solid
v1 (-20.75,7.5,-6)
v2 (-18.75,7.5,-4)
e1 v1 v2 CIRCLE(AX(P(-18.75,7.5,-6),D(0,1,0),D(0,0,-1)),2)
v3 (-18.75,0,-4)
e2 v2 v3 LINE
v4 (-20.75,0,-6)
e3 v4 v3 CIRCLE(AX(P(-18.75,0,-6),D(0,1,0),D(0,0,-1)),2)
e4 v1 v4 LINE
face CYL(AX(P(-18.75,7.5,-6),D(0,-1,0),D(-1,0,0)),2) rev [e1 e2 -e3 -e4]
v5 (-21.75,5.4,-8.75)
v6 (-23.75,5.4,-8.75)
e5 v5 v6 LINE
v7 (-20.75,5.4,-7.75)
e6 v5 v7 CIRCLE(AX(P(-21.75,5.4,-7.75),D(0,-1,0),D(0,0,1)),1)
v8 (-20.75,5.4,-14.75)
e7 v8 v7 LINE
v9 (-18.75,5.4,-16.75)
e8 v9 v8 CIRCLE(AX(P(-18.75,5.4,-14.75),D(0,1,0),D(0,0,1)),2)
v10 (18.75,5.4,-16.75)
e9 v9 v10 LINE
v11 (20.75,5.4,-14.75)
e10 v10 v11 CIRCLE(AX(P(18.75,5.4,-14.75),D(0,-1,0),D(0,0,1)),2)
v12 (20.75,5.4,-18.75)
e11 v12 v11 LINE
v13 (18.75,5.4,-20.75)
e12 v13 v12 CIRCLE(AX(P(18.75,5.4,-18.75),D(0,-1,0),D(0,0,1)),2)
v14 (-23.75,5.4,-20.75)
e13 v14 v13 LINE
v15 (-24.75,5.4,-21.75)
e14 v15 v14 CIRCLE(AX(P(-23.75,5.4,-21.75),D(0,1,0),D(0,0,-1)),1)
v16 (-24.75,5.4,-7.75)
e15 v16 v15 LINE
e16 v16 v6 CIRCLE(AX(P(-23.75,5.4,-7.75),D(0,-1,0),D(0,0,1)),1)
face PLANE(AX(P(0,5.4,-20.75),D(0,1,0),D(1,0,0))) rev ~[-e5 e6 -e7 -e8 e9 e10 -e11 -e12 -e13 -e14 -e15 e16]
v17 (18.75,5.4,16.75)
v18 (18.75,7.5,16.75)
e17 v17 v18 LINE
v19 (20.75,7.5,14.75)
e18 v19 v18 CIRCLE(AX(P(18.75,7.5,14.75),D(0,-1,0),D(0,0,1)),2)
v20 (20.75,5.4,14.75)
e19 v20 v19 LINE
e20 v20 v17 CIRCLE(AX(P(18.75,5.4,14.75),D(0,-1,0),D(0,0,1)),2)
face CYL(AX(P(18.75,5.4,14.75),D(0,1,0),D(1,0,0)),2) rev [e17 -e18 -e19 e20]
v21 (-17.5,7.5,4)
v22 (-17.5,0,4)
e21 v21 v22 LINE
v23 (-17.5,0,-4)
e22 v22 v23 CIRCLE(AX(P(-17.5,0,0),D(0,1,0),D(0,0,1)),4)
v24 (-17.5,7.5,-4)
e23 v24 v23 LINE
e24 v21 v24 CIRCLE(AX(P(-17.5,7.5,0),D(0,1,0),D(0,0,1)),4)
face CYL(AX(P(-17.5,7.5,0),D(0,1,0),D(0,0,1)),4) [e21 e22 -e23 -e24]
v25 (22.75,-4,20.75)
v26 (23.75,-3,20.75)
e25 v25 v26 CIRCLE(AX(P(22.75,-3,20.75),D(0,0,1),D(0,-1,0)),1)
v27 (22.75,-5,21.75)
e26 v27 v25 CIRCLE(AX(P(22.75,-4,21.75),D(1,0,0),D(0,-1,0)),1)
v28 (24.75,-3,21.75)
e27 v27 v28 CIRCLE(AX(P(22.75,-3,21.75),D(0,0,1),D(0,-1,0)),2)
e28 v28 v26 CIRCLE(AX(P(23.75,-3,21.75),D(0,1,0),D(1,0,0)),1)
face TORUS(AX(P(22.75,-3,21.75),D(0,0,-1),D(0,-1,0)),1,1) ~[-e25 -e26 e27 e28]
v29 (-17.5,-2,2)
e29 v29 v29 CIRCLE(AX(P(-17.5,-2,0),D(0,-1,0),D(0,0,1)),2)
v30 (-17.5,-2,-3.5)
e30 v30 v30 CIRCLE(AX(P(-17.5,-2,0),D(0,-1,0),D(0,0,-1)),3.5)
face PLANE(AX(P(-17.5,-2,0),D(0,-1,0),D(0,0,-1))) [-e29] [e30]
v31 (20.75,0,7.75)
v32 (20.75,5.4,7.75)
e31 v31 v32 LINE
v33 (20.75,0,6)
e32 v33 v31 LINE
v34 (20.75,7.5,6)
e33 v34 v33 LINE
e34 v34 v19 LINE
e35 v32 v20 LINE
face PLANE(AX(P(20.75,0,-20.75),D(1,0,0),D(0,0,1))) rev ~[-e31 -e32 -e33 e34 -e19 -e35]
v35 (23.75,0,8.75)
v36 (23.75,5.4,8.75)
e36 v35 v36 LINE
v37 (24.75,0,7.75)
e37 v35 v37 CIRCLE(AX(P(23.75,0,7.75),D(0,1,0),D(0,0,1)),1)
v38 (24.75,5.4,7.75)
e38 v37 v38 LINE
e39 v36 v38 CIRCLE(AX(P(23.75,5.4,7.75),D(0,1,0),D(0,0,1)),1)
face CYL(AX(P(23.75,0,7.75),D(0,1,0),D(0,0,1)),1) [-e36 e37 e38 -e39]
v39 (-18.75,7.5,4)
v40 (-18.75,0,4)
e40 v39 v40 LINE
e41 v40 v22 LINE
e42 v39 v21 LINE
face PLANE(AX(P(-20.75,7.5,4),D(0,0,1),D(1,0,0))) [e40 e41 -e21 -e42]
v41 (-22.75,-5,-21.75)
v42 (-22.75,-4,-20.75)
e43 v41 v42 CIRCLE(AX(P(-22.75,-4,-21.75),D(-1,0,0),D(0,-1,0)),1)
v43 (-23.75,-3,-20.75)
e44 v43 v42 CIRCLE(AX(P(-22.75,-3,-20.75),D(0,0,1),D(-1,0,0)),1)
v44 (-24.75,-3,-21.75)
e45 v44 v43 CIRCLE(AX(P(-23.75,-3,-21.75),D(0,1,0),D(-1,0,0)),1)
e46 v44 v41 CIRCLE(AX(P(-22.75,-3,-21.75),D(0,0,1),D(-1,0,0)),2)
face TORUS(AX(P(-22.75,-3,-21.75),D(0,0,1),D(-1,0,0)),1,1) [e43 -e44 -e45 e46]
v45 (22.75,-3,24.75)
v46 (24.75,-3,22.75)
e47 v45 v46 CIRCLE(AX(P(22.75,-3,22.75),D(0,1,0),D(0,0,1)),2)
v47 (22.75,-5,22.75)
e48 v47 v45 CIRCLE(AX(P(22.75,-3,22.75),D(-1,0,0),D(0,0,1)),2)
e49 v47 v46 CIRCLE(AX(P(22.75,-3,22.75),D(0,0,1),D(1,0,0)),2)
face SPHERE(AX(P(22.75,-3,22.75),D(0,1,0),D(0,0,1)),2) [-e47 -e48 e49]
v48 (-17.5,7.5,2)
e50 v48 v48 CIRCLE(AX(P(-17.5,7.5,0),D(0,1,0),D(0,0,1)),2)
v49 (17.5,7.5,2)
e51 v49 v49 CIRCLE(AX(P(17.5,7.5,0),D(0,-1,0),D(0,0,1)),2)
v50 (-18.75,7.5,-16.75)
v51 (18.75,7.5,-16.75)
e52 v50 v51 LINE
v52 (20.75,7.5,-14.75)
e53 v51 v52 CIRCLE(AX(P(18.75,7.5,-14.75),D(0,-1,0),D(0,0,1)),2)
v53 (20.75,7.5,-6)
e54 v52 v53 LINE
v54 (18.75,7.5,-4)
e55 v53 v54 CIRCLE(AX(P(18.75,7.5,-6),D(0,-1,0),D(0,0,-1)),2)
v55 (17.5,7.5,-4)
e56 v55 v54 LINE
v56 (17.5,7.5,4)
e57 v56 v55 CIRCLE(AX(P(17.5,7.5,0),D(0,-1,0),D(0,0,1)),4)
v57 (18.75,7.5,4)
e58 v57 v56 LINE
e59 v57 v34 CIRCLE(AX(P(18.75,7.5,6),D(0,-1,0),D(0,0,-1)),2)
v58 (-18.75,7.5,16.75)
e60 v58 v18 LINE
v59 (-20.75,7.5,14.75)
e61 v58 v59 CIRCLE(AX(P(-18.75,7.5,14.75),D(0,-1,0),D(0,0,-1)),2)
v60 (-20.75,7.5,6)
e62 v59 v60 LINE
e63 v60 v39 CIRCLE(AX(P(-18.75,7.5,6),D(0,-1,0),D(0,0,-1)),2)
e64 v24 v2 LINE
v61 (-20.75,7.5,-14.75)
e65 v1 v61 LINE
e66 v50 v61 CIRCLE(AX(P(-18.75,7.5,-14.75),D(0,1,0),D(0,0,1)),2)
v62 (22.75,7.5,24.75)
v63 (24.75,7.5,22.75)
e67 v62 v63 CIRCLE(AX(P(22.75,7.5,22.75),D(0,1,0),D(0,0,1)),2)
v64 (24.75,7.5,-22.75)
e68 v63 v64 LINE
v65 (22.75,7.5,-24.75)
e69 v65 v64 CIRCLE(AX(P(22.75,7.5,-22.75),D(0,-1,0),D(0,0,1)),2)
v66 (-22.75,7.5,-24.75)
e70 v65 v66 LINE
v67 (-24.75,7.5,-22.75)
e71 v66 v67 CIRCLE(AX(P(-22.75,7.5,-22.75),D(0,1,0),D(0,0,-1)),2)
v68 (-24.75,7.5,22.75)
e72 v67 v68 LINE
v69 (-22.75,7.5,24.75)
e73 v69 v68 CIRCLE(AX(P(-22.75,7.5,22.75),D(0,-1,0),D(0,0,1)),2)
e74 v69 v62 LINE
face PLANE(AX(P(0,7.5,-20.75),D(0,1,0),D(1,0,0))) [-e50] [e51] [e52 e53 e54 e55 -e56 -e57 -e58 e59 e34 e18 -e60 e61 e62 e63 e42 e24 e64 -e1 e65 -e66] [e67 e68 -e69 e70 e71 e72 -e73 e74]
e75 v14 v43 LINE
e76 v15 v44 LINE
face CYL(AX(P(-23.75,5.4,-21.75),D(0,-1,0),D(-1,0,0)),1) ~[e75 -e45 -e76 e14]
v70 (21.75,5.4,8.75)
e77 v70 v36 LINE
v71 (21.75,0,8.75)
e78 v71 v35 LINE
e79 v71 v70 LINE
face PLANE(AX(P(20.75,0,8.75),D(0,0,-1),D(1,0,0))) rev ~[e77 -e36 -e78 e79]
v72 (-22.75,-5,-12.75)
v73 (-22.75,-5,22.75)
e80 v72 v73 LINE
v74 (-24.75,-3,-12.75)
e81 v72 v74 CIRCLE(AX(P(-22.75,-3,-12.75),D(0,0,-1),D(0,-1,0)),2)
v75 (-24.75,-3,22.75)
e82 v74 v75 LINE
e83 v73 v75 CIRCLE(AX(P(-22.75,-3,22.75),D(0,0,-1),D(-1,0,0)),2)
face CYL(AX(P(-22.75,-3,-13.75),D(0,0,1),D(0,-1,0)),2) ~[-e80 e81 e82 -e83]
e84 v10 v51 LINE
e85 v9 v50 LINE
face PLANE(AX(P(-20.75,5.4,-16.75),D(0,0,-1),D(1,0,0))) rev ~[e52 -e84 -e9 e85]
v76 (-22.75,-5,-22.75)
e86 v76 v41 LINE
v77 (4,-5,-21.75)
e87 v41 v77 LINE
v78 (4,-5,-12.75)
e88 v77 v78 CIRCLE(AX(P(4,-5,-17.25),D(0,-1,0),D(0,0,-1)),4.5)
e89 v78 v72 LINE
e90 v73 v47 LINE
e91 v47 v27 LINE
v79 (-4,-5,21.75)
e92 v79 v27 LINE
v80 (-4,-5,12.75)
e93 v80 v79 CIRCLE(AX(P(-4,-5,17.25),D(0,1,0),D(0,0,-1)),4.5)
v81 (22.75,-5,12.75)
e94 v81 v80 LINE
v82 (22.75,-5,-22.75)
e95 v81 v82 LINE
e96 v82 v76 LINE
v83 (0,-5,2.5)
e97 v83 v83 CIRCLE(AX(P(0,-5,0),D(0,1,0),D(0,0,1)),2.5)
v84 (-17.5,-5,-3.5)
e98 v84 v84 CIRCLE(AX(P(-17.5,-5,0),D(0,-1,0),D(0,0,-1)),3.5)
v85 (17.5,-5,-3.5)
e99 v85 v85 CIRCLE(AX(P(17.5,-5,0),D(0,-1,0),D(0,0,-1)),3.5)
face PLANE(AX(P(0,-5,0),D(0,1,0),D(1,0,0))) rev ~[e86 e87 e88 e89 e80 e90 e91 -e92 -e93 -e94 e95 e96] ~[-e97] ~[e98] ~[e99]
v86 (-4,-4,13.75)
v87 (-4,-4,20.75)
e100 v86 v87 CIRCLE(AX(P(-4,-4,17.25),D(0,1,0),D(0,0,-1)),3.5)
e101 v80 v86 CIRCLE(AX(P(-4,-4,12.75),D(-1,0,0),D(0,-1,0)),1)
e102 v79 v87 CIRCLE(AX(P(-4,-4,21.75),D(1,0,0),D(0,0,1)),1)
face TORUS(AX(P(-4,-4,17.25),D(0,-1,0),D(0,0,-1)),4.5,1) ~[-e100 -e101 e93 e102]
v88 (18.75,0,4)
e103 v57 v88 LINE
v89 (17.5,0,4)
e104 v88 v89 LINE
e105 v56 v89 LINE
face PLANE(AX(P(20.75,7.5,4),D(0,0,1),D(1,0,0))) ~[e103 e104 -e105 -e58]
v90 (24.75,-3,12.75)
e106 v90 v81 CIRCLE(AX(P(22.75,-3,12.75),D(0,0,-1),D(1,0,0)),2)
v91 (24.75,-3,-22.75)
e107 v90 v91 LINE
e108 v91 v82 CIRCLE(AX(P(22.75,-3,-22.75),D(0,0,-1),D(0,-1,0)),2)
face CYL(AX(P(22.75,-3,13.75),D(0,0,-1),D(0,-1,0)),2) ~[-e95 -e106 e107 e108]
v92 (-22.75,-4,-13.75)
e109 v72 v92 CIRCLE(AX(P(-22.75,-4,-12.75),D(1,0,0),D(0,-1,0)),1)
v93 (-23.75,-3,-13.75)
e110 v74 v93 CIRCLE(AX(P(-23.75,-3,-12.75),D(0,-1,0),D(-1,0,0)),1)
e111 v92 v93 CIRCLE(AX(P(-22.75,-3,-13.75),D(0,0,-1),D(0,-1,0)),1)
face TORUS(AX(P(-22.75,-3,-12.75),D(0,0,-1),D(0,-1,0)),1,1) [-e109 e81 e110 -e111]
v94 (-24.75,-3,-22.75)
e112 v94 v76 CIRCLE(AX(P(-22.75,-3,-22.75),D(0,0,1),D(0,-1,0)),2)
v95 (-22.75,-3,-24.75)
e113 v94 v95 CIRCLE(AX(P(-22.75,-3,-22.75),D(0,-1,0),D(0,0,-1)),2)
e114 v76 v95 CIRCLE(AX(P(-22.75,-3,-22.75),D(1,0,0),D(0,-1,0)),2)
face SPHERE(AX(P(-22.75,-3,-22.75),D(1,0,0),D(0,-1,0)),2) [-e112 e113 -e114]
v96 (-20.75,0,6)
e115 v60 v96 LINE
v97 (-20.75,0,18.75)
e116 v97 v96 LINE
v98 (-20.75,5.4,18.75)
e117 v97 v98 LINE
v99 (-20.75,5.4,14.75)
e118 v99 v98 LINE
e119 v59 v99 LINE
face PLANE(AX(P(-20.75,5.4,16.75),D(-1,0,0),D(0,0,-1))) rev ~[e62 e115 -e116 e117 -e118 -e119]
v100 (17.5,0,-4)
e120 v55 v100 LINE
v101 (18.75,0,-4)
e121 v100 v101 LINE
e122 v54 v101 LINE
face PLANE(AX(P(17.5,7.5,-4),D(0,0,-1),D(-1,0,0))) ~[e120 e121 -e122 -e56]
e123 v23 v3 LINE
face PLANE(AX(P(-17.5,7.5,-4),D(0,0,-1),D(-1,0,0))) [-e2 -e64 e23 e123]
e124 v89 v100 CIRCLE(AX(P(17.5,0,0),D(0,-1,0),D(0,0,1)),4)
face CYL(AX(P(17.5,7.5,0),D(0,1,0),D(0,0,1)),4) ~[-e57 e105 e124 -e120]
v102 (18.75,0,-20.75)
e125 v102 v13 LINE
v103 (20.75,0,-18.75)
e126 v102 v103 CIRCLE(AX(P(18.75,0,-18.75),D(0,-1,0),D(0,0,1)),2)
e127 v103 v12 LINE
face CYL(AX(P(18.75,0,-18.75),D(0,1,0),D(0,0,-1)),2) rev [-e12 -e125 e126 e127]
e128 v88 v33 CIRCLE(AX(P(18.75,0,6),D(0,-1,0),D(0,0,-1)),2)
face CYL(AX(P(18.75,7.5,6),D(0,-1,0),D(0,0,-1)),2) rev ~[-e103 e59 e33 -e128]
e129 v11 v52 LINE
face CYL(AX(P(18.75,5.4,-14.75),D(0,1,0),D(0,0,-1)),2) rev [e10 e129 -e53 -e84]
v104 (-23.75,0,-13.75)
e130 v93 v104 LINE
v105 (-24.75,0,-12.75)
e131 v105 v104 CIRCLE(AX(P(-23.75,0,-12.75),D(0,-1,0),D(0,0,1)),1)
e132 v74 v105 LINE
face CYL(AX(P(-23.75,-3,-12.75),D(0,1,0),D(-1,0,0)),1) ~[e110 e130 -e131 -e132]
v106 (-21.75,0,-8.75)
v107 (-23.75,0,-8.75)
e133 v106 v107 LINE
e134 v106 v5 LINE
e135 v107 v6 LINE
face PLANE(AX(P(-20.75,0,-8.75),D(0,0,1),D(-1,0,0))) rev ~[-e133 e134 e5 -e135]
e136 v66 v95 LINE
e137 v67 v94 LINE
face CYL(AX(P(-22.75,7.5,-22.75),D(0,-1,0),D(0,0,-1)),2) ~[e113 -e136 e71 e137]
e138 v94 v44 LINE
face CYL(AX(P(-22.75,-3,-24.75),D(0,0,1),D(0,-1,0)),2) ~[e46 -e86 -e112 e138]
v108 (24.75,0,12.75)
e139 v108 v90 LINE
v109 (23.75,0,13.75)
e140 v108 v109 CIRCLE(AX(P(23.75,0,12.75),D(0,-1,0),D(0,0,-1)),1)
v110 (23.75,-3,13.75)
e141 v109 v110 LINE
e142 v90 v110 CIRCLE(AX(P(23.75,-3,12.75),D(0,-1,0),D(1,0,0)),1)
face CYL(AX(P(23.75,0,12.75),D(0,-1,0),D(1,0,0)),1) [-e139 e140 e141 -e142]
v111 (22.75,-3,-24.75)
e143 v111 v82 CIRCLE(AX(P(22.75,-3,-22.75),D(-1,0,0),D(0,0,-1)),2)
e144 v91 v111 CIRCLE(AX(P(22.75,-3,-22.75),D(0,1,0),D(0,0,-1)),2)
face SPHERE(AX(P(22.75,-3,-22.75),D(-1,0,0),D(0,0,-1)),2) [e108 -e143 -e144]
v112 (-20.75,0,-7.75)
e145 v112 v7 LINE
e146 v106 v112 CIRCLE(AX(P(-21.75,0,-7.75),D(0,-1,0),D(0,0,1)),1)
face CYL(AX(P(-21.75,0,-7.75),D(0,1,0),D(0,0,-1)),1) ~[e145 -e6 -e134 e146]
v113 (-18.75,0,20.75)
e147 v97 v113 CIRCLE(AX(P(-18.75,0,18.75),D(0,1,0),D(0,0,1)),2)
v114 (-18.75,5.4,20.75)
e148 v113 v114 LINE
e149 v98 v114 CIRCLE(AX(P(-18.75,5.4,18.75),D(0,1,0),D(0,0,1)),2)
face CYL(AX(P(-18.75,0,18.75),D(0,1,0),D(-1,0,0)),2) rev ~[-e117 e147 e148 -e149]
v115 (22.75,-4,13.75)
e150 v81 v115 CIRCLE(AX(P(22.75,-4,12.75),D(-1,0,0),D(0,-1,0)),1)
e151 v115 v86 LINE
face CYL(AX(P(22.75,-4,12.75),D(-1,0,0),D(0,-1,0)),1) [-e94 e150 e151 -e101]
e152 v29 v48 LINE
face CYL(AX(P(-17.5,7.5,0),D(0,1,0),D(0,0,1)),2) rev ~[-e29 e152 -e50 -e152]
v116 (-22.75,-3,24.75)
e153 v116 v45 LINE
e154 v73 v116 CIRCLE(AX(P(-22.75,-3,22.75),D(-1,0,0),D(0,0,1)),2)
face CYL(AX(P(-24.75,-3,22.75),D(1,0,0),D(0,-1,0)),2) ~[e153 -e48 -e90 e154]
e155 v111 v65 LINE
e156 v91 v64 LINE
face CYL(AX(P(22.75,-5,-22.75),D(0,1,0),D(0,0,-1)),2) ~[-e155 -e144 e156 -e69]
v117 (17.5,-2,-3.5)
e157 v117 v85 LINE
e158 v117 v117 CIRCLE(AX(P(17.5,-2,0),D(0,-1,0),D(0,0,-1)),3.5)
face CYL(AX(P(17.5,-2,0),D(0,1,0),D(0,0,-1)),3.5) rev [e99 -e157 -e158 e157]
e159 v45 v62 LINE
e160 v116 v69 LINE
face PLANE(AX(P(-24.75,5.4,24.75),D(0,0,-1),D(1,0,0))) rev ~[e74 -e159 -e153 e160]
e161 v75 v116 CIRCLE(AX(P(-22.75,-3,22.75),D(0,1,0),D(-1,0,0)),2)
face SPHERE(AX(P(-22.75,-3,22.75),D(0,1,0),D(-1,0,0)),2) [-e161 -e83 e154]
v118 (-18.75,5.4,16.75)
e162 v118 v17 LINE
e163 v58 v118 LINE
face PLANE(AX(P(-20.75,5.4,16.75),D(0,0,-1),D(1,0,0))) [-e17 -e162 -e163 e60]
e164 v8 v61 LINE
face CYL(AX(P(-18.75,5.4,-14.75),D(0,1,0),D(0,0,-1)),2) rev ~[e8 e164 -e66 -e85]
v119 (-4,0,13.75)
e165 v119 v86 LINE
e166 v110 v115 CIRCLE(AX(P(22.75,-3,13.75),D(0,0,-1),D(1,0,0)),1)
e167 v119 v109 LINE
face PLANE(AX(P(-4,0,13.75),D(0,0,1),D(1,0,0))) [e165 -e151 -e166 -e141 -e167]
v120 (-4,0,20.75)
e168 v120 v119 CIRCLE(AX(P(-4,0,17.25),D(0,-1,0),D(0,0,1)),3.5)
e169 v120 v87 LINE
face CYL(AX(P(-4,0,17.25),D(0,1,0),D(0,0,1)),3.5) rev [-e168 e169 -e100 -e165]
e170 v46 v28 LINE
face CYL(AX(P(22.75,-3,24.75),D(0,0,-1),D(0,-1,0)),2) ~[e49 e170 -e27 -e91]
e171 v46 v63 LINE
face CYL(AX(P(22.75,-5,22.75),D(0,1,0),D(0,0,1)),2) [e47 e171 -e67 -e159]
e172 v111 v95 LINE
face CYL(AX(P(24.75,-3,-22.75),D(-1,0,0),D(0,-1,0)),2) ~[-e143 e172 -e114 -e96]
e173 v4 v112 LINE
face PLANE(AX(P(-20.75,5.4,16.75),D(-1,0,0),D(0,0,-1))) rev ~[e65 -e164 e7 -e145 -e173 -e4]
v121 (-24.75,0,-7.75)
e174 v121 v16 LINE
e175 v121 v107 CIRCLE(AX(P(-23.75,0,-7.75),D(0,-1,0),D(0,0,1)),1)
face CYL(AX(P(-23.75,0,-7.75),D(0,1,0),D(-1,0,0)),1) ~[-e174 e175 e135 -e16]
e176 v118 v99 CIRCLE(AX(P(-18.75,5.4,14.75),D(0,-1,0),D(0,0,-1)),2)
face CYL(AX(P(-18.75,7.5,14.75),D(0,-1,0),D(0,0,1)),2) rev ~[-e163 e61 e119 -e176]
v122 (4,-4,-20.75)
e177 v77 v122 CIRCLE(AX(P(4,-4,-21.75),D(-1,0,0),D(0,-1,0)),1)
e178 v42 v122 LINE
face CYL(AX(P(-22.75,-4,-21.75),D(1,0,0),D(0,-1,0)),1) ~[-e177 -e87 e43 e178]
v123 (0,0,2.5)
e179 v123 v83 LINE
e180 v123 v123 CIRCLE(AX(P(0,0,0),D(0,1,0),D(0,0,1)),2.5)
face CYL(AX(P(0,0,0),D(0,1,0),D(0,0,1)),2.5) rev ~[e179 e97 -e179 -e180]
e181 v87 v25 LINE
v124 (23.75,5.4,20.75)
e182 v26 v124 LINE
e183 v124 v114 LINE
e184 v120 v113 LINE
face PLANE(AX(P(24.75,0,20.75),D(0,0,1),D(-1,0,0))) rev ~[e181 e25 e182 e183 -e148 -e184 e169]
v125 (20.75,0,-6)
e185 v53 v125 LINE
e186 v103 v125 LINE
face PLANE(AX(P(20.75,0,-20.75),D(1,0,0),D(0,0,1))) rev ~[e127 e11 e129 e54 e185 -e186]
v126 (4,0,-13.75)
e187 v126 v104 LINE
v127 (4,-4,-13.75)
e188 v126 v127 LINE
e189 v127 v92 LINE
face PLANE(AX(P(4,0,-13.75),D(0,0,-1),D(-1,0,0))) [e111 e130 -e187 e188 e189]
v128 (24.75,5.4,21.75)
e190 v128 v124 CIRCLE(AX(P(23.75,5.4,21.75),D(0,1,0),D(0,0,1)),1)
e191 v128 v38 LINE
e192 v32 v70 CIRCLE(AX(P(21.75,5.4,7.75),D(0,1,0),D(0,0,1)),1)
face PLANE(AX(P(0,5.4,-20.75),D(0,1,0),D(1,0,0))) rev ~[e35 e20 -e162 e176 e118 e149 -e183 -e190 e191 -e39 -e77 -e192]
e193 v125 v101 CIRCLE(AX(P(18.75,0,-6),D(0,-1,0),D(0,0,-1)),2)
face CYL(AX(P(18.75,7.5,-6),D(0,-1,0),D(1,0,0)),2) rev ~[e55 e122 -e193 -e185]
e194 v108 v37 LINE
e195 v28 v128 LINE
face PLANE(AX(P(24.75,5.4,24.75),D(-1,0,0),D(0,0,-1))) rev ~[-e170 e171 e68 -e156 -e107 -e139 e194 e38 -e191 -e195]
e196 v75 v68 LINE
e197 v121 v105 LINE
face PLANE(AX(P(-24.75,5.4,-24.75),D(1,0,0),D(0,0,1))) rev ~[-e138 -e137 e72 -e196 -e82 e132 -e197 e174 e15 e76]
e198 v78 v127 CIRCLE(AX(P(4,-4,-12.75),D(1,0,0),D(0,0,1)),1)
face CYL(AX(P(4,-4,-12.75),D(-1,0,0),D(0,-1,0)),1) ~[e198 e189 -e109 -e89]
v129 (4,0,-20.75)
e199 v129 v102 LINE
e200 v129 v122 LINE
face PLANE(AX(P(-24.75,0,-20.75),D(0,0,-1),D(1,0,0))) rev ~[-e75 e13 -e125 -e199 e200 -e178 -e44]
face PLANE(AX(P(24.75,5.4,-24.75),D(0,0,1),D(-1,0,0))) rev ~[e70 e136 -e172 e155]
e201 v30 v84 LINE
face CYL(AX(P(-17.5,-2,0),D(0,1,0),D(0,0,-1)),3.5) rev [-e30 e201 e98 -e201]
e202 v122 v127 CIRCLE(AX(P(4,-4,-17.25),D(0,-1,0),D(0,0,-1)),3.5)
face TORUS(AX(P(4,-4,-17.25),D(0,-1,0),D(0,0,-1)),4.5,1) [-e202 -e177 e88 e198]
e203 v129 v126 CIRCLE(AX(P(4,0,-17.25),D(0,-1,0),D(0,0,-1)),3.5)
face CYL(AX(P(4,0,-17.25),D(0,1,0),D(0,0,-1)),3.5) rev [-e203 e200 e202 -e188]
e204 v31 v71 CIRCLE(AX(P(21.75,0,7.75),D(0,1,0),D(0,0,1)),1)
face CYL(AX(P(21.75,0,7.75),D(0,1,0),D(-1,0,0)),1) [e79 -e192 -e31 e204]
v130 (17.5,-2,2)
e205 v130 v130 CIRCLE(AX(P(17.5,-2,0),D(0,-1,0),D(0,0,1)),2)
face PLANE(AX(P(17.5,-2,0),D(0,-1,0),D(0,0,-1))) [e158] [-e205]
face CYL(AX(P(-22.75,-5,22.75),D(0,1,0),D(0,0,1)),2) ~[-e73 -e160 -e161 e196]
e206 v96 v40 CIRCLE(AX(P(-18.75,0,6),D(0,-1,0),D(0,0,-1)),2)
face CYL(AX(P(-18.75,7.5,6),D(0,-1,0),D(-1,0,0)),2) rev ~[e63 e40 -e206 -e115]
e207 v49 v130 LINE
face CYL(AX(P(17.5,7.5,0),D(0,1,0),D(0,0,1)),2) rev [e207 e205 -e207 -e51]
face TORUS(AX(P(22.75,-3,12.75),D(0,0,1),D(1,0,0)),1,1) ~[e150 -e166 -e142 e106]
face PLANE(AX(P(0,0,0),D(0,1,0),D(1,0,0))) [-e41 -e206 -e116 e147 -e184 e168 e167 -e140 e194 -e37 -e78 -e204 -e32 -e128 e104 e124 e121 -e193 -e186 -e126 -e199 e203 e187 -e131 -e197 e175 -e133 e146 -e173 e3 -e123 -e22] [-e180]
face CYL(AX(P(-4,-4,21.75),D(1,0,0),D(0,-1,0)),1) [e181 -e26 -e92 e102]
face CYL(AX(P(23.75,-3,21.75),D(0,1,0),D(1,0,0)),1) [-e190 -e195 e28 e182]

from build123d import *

# Parameters (mm, degrees)
CROQUIS1_R                   = 2.5
SALIENTE_EXTRUIR1_DEPTH      = 5
SALIENTE_EXTRUIR2_DEPTH      = 5.5
SALIENTE_EXTRUIR5_DEPTH      = 2
SALIENTE_EXTRUIR5_DEPTH_BACK = 0.1
CROQUIS2_W                   = 41.5
CROQUIS2_H                   = 8
CROQUIS2_H_2                 = 4
CROQUIS2_W_2                 = 4
CROQUIS3_R                   = 2
SALIENTE_EXTRUIR6_DEPTH      = 7.5
CORTAR_EXTRUIR1_REACH        = 39.167
CROQUIS3_3_R                 = 2
CORTAR_EXTRUIR2_START        = -3
CROQUIS4_R                   = 3.5
CROQUIS4_R_2                 = 2
CORTAR_EXTRUIR2_DEPTH        = 3
REDONDEO1_R                  = 2
REDONDEO4_R                  = 2
REDONDEO3_R                  = 1


with BuildPart() as part:
    # Croquis1 → Saliente-Extruir1 (new body)
    with BuildSketch(Plane(origin=(0, 0, 0), x_dir=(1, 0, 0), z_dir=(0, 1, 0))):
        with BuildLine():
            Line((-24.75, -24.75), (24.75, -24.75))
            Line((24.75, -24.75), (24.75, -20.75))
            Line((24.75, -20.75), (-4, -20.75))
            ThreePointArc((-4, -20.75), (-7.5, -17.25), (-4, -13.75))
            Line((-4, -13.75), (24.75, -13.75))
            Line((24.75, -13.75), (24.75, 24.75))
            Line((24.75, 24.75), (-24.75, 24.75))
            Line((-24.75, 24.75), (-24.75, 20.75))
            Line((-24.75, 20.75), (4, 20.75))
            ThreePointArc((4, 20.75), (7.5, 17.25), (4, 13.75))
            Line((4, 13.75), (-24.75, 13.75))
            Line((-24.75, 13.75), (-24.75, -24.75))
        make_face()
        with Locations(Location((0, 0, 0), (0, 0, 270))):
            Circle(CROQUIS1_R, mode=Mode.SUBTRACT)
    extrude(amount=-SALIENTE_EXTRUIR1_DEPTH)

    # Croquis1<3> → Saliente-Extruir2 (add)
    with BuildSketch(Plane(origin=(0, 0, 0), x_dir=(1, 0, 0), z_dir=(0, 1, 0))):
        Polygon((-24.75, 8.75), (-24.75, -24.75), (24.75, -24.75), (24.75, -20.75), (-4, -20.75), (-20.75, -20.75), (-20.75, 8.75), align=None)
        Polygon((-24.75, 24.75), (-24.75, 20.75), (4, 20.75), (20.75, 20.75), (20.75, -8.75), (24.75, -8.75), (24.75, 24.75), align=None)
    extrude(amount=SALIENTE_EXTRUIR2_DEPTH)

    # Croquis2 → Saliente-Extruir5 (add, two sides: drawn at the far end of the back side and taken through both)
    with BuildSketch(Plane(origin=(0, 5.5, 0), x_dir=(1, 0, 0), z_dir=(0, 1, 0)).offset(-SALIENTE_EXTRUIR5_DEPTH_BACK)):
        with Locations((0, 20.75)):
            Rectangle(CROQUIS2_W, CROQUIS2_H)
        Polygon((-20.75, 24.75), (-24.75, 24.75), (-24.75, 8.75), (-20.75, 8.75), (-20.75, 16.75), align=None)
        with Locations((0, -18.75)):
            Rectangle(CROQUIS2_W, CROQUIS2_H_2)
        with Locations((0, -22.75)):
            Rectangle(CROQUIS2_W, CROQUIS2_H_2)
        Polygon((-20.75, 8.75), (-24.75, 8.75), (-24.75, -24.75), (-20.75, -24.75), (-20.75, -20.75), (-20.75, -16.75), align=None)
        Polygon((24.75, 24.75), (20.75, 24.75), (20.75, 16.75), (20.75, -16.75), (20.75, -20.75), (24.75, -20.75), align=None)
        with Locations((22.75, -22.75)):
            Rectangle(CROQUIS2_W_2, CROQUIS2_H_2)
    extrude(amount=SALIENTE_EXTRUIR5_DEPTH + SALIENTE_EXTRUIR5_DEPTH_BACK)

    # Croquis3 → Saliente-Extruir6 (add)
    with BuildSketch(Plane(origin=(0, 7.5, 0), x_dir=(1, 0, 0), z_dir=(0, 1, 0))):
        with BuildLine():
            Line((-20.75, 4), (-20.75, -4))
            Line((-20.75, -4), (-17.5, -4))
            ThreePointArc((-17.5, -4), (-13.5, 0), (-17.5, 4))
            Line((-17.5, 4), (-20.75, 4))
        make_face()
        with Locations(Location((-17.5, 0, 0), (0, 0, 270))):
            Circle(CROQUIS3_R, mode=Mode.SUBTRACT)
    saliente_extruir6 = extrude(amount=-SALIENTE_EXTRUIR6_DEPTH)

    # Croquis3<3> → Cortar-Extruir1 (cut, up to next)
    with BuildSketch(Plane(origin=(0, 7.5, 0), x_dir=(1, 0, 0), z_dir=(0, 1, 0)), mode=Mode.PRIVATE) as cortar_extruir1_sk1:
        with Locations(Location((-17.5, 0, 0), (0, 0, 270))):
            Circle(CROQUIS3_3_R)
    cortar_extruir1_tool1 = extrude(cortar_extruir1_sk1.sketch, amount=-CORTAR_EXTRUIR1_REACH, mode=Mode.PRIVATE) & part.part
    cortar_extruir1 = cortar_extruir1_tool1.solids().sort_by_distance((-17.5, 7.5, 0))[0]
    add(cortar_extruir1, mode=Mode.SUBTRACT)

    # Simetría1: Saliente-Extruir6, Cortar-Extruir1 across plane
    add(saliente_extruir6.mirror(Plane(origin=(0, 0, 0), x_dir=(0, 0, 1), z_dir=(1, 0, 0))))
    add(cortar_extruir1.mirror(Plane(origin=(0, 0, 0), x_dir=(0, 0, 1), z_dir=(1, 0, 0))), mode=Mode.SUBTRACT)

    # Croquis4 → Cortar-Extruir2 (cut)
    # profile 1 of 2: a face of its own
    with BuildSketch(Plane.XZ.offset(5).offset(CORTAR_EXTRUIR2_START)):
        with Locations(Location((-17.5, 0, 0), (0, 0, 270))):
            Circle(CROQUIS4_R)
        with Locations(Location((-17.5, 0, 0), (0, 0, 90))):
            Circle(CROQUIS4_R_2, mode=Mode.SUBTRACT)
    # profile 2 of 2: a face of its own
    with BuildSketch(Plane.XZ.offset(5).offset(CORTAR_EXTRUIR2_START)):
        with Locations(Location((17.5, 0, 0), (0, 0, 270))):
            Circle(CROQUIS4_R)
        with Locations(Location((17.5, 0, 0), (0, 0, 90))):
            Circle(CROQUIS4_R_2, mode=Mode.SUBTRACT)
    extrude(amount=CORTAR_EXTRUIR2_DEPTH, mode=Mode.SUBTRACT)

    # Redondeo1
    redondeo1_edges = [part.edges().sort_by_distance(p)[0] for p in [
        (20.75, 6.45, 16.75),
        (-20.75, 6.45, 16.75),
        (20.75, 6.45, -16.75),
        (-20.75, 3.75, -4),
        (-20.75, 3.75, 4),
        (20.75, 3.75, 4),
        (20.75, 3.75, -4),
        (-20.75, 6.45, -16.75),
    ]]
    fillet(redondeo1_edges, radius=REDONDEO1_R)

    # Redondeo4
    redondeo4_edges = [part.edges().sort_by_distance(p)[0] for p in [
        (0, -5, -24.75),
        (-24.75, -5, -22.75),
        (24.75, 1.25, 24.75),
        (-24.75, 1.25, 24.75),
        (-24.75, 1.25, -24.75),
        (24.75, 1.25, -24.75),
        (-24.75, -5, 5.5),
        (0, -5, 24.75),
        (24.75, -5, 22.75),
        (24.75, -5, -5.5),
        (20.75, 2.7, -20.75),
        (-20.75, 2.7, 20.75),
    ]]
    fillet(redondeo4_edges, radius=REDONDEO4_R)

    # Redondeo3
    redondeo3_edges = [part.edges().sort_by_distance(p)[0] for p in [
        (7.5, -5, -17.25),
        (24.75, 1.2, 20.75),
        (24.75, -1.5, 13.75),
        (9.375, -5, 13.75),
        (9.375, -5, 20.75),
        (-9.375, -5, -13.75),
        (-9.375, -5, -20.75),
        (24.164213562, -4.414213562, 13.75),
        (24.164213562, -4.414213562, 20.75),
        (-24.75, -1.5, -13.75),
        (-24.164213562, -4.414213562, -13.75),
        (-24.75, 1.2, -20.75),
        (-24.164213562, -4.414213562, -20.75),
        (-7.5, -5, 17.25),
        (24.75, 2.7, 8.75),
        (20.75, 2.7, 8.75),
        (-24.75, 2.7, -8.75),
        (-20.75, 2.7, -8.75),
    ]]
    fillet(redondeo3_edges, radius=REDONDEO3_R)


solid = part.part
